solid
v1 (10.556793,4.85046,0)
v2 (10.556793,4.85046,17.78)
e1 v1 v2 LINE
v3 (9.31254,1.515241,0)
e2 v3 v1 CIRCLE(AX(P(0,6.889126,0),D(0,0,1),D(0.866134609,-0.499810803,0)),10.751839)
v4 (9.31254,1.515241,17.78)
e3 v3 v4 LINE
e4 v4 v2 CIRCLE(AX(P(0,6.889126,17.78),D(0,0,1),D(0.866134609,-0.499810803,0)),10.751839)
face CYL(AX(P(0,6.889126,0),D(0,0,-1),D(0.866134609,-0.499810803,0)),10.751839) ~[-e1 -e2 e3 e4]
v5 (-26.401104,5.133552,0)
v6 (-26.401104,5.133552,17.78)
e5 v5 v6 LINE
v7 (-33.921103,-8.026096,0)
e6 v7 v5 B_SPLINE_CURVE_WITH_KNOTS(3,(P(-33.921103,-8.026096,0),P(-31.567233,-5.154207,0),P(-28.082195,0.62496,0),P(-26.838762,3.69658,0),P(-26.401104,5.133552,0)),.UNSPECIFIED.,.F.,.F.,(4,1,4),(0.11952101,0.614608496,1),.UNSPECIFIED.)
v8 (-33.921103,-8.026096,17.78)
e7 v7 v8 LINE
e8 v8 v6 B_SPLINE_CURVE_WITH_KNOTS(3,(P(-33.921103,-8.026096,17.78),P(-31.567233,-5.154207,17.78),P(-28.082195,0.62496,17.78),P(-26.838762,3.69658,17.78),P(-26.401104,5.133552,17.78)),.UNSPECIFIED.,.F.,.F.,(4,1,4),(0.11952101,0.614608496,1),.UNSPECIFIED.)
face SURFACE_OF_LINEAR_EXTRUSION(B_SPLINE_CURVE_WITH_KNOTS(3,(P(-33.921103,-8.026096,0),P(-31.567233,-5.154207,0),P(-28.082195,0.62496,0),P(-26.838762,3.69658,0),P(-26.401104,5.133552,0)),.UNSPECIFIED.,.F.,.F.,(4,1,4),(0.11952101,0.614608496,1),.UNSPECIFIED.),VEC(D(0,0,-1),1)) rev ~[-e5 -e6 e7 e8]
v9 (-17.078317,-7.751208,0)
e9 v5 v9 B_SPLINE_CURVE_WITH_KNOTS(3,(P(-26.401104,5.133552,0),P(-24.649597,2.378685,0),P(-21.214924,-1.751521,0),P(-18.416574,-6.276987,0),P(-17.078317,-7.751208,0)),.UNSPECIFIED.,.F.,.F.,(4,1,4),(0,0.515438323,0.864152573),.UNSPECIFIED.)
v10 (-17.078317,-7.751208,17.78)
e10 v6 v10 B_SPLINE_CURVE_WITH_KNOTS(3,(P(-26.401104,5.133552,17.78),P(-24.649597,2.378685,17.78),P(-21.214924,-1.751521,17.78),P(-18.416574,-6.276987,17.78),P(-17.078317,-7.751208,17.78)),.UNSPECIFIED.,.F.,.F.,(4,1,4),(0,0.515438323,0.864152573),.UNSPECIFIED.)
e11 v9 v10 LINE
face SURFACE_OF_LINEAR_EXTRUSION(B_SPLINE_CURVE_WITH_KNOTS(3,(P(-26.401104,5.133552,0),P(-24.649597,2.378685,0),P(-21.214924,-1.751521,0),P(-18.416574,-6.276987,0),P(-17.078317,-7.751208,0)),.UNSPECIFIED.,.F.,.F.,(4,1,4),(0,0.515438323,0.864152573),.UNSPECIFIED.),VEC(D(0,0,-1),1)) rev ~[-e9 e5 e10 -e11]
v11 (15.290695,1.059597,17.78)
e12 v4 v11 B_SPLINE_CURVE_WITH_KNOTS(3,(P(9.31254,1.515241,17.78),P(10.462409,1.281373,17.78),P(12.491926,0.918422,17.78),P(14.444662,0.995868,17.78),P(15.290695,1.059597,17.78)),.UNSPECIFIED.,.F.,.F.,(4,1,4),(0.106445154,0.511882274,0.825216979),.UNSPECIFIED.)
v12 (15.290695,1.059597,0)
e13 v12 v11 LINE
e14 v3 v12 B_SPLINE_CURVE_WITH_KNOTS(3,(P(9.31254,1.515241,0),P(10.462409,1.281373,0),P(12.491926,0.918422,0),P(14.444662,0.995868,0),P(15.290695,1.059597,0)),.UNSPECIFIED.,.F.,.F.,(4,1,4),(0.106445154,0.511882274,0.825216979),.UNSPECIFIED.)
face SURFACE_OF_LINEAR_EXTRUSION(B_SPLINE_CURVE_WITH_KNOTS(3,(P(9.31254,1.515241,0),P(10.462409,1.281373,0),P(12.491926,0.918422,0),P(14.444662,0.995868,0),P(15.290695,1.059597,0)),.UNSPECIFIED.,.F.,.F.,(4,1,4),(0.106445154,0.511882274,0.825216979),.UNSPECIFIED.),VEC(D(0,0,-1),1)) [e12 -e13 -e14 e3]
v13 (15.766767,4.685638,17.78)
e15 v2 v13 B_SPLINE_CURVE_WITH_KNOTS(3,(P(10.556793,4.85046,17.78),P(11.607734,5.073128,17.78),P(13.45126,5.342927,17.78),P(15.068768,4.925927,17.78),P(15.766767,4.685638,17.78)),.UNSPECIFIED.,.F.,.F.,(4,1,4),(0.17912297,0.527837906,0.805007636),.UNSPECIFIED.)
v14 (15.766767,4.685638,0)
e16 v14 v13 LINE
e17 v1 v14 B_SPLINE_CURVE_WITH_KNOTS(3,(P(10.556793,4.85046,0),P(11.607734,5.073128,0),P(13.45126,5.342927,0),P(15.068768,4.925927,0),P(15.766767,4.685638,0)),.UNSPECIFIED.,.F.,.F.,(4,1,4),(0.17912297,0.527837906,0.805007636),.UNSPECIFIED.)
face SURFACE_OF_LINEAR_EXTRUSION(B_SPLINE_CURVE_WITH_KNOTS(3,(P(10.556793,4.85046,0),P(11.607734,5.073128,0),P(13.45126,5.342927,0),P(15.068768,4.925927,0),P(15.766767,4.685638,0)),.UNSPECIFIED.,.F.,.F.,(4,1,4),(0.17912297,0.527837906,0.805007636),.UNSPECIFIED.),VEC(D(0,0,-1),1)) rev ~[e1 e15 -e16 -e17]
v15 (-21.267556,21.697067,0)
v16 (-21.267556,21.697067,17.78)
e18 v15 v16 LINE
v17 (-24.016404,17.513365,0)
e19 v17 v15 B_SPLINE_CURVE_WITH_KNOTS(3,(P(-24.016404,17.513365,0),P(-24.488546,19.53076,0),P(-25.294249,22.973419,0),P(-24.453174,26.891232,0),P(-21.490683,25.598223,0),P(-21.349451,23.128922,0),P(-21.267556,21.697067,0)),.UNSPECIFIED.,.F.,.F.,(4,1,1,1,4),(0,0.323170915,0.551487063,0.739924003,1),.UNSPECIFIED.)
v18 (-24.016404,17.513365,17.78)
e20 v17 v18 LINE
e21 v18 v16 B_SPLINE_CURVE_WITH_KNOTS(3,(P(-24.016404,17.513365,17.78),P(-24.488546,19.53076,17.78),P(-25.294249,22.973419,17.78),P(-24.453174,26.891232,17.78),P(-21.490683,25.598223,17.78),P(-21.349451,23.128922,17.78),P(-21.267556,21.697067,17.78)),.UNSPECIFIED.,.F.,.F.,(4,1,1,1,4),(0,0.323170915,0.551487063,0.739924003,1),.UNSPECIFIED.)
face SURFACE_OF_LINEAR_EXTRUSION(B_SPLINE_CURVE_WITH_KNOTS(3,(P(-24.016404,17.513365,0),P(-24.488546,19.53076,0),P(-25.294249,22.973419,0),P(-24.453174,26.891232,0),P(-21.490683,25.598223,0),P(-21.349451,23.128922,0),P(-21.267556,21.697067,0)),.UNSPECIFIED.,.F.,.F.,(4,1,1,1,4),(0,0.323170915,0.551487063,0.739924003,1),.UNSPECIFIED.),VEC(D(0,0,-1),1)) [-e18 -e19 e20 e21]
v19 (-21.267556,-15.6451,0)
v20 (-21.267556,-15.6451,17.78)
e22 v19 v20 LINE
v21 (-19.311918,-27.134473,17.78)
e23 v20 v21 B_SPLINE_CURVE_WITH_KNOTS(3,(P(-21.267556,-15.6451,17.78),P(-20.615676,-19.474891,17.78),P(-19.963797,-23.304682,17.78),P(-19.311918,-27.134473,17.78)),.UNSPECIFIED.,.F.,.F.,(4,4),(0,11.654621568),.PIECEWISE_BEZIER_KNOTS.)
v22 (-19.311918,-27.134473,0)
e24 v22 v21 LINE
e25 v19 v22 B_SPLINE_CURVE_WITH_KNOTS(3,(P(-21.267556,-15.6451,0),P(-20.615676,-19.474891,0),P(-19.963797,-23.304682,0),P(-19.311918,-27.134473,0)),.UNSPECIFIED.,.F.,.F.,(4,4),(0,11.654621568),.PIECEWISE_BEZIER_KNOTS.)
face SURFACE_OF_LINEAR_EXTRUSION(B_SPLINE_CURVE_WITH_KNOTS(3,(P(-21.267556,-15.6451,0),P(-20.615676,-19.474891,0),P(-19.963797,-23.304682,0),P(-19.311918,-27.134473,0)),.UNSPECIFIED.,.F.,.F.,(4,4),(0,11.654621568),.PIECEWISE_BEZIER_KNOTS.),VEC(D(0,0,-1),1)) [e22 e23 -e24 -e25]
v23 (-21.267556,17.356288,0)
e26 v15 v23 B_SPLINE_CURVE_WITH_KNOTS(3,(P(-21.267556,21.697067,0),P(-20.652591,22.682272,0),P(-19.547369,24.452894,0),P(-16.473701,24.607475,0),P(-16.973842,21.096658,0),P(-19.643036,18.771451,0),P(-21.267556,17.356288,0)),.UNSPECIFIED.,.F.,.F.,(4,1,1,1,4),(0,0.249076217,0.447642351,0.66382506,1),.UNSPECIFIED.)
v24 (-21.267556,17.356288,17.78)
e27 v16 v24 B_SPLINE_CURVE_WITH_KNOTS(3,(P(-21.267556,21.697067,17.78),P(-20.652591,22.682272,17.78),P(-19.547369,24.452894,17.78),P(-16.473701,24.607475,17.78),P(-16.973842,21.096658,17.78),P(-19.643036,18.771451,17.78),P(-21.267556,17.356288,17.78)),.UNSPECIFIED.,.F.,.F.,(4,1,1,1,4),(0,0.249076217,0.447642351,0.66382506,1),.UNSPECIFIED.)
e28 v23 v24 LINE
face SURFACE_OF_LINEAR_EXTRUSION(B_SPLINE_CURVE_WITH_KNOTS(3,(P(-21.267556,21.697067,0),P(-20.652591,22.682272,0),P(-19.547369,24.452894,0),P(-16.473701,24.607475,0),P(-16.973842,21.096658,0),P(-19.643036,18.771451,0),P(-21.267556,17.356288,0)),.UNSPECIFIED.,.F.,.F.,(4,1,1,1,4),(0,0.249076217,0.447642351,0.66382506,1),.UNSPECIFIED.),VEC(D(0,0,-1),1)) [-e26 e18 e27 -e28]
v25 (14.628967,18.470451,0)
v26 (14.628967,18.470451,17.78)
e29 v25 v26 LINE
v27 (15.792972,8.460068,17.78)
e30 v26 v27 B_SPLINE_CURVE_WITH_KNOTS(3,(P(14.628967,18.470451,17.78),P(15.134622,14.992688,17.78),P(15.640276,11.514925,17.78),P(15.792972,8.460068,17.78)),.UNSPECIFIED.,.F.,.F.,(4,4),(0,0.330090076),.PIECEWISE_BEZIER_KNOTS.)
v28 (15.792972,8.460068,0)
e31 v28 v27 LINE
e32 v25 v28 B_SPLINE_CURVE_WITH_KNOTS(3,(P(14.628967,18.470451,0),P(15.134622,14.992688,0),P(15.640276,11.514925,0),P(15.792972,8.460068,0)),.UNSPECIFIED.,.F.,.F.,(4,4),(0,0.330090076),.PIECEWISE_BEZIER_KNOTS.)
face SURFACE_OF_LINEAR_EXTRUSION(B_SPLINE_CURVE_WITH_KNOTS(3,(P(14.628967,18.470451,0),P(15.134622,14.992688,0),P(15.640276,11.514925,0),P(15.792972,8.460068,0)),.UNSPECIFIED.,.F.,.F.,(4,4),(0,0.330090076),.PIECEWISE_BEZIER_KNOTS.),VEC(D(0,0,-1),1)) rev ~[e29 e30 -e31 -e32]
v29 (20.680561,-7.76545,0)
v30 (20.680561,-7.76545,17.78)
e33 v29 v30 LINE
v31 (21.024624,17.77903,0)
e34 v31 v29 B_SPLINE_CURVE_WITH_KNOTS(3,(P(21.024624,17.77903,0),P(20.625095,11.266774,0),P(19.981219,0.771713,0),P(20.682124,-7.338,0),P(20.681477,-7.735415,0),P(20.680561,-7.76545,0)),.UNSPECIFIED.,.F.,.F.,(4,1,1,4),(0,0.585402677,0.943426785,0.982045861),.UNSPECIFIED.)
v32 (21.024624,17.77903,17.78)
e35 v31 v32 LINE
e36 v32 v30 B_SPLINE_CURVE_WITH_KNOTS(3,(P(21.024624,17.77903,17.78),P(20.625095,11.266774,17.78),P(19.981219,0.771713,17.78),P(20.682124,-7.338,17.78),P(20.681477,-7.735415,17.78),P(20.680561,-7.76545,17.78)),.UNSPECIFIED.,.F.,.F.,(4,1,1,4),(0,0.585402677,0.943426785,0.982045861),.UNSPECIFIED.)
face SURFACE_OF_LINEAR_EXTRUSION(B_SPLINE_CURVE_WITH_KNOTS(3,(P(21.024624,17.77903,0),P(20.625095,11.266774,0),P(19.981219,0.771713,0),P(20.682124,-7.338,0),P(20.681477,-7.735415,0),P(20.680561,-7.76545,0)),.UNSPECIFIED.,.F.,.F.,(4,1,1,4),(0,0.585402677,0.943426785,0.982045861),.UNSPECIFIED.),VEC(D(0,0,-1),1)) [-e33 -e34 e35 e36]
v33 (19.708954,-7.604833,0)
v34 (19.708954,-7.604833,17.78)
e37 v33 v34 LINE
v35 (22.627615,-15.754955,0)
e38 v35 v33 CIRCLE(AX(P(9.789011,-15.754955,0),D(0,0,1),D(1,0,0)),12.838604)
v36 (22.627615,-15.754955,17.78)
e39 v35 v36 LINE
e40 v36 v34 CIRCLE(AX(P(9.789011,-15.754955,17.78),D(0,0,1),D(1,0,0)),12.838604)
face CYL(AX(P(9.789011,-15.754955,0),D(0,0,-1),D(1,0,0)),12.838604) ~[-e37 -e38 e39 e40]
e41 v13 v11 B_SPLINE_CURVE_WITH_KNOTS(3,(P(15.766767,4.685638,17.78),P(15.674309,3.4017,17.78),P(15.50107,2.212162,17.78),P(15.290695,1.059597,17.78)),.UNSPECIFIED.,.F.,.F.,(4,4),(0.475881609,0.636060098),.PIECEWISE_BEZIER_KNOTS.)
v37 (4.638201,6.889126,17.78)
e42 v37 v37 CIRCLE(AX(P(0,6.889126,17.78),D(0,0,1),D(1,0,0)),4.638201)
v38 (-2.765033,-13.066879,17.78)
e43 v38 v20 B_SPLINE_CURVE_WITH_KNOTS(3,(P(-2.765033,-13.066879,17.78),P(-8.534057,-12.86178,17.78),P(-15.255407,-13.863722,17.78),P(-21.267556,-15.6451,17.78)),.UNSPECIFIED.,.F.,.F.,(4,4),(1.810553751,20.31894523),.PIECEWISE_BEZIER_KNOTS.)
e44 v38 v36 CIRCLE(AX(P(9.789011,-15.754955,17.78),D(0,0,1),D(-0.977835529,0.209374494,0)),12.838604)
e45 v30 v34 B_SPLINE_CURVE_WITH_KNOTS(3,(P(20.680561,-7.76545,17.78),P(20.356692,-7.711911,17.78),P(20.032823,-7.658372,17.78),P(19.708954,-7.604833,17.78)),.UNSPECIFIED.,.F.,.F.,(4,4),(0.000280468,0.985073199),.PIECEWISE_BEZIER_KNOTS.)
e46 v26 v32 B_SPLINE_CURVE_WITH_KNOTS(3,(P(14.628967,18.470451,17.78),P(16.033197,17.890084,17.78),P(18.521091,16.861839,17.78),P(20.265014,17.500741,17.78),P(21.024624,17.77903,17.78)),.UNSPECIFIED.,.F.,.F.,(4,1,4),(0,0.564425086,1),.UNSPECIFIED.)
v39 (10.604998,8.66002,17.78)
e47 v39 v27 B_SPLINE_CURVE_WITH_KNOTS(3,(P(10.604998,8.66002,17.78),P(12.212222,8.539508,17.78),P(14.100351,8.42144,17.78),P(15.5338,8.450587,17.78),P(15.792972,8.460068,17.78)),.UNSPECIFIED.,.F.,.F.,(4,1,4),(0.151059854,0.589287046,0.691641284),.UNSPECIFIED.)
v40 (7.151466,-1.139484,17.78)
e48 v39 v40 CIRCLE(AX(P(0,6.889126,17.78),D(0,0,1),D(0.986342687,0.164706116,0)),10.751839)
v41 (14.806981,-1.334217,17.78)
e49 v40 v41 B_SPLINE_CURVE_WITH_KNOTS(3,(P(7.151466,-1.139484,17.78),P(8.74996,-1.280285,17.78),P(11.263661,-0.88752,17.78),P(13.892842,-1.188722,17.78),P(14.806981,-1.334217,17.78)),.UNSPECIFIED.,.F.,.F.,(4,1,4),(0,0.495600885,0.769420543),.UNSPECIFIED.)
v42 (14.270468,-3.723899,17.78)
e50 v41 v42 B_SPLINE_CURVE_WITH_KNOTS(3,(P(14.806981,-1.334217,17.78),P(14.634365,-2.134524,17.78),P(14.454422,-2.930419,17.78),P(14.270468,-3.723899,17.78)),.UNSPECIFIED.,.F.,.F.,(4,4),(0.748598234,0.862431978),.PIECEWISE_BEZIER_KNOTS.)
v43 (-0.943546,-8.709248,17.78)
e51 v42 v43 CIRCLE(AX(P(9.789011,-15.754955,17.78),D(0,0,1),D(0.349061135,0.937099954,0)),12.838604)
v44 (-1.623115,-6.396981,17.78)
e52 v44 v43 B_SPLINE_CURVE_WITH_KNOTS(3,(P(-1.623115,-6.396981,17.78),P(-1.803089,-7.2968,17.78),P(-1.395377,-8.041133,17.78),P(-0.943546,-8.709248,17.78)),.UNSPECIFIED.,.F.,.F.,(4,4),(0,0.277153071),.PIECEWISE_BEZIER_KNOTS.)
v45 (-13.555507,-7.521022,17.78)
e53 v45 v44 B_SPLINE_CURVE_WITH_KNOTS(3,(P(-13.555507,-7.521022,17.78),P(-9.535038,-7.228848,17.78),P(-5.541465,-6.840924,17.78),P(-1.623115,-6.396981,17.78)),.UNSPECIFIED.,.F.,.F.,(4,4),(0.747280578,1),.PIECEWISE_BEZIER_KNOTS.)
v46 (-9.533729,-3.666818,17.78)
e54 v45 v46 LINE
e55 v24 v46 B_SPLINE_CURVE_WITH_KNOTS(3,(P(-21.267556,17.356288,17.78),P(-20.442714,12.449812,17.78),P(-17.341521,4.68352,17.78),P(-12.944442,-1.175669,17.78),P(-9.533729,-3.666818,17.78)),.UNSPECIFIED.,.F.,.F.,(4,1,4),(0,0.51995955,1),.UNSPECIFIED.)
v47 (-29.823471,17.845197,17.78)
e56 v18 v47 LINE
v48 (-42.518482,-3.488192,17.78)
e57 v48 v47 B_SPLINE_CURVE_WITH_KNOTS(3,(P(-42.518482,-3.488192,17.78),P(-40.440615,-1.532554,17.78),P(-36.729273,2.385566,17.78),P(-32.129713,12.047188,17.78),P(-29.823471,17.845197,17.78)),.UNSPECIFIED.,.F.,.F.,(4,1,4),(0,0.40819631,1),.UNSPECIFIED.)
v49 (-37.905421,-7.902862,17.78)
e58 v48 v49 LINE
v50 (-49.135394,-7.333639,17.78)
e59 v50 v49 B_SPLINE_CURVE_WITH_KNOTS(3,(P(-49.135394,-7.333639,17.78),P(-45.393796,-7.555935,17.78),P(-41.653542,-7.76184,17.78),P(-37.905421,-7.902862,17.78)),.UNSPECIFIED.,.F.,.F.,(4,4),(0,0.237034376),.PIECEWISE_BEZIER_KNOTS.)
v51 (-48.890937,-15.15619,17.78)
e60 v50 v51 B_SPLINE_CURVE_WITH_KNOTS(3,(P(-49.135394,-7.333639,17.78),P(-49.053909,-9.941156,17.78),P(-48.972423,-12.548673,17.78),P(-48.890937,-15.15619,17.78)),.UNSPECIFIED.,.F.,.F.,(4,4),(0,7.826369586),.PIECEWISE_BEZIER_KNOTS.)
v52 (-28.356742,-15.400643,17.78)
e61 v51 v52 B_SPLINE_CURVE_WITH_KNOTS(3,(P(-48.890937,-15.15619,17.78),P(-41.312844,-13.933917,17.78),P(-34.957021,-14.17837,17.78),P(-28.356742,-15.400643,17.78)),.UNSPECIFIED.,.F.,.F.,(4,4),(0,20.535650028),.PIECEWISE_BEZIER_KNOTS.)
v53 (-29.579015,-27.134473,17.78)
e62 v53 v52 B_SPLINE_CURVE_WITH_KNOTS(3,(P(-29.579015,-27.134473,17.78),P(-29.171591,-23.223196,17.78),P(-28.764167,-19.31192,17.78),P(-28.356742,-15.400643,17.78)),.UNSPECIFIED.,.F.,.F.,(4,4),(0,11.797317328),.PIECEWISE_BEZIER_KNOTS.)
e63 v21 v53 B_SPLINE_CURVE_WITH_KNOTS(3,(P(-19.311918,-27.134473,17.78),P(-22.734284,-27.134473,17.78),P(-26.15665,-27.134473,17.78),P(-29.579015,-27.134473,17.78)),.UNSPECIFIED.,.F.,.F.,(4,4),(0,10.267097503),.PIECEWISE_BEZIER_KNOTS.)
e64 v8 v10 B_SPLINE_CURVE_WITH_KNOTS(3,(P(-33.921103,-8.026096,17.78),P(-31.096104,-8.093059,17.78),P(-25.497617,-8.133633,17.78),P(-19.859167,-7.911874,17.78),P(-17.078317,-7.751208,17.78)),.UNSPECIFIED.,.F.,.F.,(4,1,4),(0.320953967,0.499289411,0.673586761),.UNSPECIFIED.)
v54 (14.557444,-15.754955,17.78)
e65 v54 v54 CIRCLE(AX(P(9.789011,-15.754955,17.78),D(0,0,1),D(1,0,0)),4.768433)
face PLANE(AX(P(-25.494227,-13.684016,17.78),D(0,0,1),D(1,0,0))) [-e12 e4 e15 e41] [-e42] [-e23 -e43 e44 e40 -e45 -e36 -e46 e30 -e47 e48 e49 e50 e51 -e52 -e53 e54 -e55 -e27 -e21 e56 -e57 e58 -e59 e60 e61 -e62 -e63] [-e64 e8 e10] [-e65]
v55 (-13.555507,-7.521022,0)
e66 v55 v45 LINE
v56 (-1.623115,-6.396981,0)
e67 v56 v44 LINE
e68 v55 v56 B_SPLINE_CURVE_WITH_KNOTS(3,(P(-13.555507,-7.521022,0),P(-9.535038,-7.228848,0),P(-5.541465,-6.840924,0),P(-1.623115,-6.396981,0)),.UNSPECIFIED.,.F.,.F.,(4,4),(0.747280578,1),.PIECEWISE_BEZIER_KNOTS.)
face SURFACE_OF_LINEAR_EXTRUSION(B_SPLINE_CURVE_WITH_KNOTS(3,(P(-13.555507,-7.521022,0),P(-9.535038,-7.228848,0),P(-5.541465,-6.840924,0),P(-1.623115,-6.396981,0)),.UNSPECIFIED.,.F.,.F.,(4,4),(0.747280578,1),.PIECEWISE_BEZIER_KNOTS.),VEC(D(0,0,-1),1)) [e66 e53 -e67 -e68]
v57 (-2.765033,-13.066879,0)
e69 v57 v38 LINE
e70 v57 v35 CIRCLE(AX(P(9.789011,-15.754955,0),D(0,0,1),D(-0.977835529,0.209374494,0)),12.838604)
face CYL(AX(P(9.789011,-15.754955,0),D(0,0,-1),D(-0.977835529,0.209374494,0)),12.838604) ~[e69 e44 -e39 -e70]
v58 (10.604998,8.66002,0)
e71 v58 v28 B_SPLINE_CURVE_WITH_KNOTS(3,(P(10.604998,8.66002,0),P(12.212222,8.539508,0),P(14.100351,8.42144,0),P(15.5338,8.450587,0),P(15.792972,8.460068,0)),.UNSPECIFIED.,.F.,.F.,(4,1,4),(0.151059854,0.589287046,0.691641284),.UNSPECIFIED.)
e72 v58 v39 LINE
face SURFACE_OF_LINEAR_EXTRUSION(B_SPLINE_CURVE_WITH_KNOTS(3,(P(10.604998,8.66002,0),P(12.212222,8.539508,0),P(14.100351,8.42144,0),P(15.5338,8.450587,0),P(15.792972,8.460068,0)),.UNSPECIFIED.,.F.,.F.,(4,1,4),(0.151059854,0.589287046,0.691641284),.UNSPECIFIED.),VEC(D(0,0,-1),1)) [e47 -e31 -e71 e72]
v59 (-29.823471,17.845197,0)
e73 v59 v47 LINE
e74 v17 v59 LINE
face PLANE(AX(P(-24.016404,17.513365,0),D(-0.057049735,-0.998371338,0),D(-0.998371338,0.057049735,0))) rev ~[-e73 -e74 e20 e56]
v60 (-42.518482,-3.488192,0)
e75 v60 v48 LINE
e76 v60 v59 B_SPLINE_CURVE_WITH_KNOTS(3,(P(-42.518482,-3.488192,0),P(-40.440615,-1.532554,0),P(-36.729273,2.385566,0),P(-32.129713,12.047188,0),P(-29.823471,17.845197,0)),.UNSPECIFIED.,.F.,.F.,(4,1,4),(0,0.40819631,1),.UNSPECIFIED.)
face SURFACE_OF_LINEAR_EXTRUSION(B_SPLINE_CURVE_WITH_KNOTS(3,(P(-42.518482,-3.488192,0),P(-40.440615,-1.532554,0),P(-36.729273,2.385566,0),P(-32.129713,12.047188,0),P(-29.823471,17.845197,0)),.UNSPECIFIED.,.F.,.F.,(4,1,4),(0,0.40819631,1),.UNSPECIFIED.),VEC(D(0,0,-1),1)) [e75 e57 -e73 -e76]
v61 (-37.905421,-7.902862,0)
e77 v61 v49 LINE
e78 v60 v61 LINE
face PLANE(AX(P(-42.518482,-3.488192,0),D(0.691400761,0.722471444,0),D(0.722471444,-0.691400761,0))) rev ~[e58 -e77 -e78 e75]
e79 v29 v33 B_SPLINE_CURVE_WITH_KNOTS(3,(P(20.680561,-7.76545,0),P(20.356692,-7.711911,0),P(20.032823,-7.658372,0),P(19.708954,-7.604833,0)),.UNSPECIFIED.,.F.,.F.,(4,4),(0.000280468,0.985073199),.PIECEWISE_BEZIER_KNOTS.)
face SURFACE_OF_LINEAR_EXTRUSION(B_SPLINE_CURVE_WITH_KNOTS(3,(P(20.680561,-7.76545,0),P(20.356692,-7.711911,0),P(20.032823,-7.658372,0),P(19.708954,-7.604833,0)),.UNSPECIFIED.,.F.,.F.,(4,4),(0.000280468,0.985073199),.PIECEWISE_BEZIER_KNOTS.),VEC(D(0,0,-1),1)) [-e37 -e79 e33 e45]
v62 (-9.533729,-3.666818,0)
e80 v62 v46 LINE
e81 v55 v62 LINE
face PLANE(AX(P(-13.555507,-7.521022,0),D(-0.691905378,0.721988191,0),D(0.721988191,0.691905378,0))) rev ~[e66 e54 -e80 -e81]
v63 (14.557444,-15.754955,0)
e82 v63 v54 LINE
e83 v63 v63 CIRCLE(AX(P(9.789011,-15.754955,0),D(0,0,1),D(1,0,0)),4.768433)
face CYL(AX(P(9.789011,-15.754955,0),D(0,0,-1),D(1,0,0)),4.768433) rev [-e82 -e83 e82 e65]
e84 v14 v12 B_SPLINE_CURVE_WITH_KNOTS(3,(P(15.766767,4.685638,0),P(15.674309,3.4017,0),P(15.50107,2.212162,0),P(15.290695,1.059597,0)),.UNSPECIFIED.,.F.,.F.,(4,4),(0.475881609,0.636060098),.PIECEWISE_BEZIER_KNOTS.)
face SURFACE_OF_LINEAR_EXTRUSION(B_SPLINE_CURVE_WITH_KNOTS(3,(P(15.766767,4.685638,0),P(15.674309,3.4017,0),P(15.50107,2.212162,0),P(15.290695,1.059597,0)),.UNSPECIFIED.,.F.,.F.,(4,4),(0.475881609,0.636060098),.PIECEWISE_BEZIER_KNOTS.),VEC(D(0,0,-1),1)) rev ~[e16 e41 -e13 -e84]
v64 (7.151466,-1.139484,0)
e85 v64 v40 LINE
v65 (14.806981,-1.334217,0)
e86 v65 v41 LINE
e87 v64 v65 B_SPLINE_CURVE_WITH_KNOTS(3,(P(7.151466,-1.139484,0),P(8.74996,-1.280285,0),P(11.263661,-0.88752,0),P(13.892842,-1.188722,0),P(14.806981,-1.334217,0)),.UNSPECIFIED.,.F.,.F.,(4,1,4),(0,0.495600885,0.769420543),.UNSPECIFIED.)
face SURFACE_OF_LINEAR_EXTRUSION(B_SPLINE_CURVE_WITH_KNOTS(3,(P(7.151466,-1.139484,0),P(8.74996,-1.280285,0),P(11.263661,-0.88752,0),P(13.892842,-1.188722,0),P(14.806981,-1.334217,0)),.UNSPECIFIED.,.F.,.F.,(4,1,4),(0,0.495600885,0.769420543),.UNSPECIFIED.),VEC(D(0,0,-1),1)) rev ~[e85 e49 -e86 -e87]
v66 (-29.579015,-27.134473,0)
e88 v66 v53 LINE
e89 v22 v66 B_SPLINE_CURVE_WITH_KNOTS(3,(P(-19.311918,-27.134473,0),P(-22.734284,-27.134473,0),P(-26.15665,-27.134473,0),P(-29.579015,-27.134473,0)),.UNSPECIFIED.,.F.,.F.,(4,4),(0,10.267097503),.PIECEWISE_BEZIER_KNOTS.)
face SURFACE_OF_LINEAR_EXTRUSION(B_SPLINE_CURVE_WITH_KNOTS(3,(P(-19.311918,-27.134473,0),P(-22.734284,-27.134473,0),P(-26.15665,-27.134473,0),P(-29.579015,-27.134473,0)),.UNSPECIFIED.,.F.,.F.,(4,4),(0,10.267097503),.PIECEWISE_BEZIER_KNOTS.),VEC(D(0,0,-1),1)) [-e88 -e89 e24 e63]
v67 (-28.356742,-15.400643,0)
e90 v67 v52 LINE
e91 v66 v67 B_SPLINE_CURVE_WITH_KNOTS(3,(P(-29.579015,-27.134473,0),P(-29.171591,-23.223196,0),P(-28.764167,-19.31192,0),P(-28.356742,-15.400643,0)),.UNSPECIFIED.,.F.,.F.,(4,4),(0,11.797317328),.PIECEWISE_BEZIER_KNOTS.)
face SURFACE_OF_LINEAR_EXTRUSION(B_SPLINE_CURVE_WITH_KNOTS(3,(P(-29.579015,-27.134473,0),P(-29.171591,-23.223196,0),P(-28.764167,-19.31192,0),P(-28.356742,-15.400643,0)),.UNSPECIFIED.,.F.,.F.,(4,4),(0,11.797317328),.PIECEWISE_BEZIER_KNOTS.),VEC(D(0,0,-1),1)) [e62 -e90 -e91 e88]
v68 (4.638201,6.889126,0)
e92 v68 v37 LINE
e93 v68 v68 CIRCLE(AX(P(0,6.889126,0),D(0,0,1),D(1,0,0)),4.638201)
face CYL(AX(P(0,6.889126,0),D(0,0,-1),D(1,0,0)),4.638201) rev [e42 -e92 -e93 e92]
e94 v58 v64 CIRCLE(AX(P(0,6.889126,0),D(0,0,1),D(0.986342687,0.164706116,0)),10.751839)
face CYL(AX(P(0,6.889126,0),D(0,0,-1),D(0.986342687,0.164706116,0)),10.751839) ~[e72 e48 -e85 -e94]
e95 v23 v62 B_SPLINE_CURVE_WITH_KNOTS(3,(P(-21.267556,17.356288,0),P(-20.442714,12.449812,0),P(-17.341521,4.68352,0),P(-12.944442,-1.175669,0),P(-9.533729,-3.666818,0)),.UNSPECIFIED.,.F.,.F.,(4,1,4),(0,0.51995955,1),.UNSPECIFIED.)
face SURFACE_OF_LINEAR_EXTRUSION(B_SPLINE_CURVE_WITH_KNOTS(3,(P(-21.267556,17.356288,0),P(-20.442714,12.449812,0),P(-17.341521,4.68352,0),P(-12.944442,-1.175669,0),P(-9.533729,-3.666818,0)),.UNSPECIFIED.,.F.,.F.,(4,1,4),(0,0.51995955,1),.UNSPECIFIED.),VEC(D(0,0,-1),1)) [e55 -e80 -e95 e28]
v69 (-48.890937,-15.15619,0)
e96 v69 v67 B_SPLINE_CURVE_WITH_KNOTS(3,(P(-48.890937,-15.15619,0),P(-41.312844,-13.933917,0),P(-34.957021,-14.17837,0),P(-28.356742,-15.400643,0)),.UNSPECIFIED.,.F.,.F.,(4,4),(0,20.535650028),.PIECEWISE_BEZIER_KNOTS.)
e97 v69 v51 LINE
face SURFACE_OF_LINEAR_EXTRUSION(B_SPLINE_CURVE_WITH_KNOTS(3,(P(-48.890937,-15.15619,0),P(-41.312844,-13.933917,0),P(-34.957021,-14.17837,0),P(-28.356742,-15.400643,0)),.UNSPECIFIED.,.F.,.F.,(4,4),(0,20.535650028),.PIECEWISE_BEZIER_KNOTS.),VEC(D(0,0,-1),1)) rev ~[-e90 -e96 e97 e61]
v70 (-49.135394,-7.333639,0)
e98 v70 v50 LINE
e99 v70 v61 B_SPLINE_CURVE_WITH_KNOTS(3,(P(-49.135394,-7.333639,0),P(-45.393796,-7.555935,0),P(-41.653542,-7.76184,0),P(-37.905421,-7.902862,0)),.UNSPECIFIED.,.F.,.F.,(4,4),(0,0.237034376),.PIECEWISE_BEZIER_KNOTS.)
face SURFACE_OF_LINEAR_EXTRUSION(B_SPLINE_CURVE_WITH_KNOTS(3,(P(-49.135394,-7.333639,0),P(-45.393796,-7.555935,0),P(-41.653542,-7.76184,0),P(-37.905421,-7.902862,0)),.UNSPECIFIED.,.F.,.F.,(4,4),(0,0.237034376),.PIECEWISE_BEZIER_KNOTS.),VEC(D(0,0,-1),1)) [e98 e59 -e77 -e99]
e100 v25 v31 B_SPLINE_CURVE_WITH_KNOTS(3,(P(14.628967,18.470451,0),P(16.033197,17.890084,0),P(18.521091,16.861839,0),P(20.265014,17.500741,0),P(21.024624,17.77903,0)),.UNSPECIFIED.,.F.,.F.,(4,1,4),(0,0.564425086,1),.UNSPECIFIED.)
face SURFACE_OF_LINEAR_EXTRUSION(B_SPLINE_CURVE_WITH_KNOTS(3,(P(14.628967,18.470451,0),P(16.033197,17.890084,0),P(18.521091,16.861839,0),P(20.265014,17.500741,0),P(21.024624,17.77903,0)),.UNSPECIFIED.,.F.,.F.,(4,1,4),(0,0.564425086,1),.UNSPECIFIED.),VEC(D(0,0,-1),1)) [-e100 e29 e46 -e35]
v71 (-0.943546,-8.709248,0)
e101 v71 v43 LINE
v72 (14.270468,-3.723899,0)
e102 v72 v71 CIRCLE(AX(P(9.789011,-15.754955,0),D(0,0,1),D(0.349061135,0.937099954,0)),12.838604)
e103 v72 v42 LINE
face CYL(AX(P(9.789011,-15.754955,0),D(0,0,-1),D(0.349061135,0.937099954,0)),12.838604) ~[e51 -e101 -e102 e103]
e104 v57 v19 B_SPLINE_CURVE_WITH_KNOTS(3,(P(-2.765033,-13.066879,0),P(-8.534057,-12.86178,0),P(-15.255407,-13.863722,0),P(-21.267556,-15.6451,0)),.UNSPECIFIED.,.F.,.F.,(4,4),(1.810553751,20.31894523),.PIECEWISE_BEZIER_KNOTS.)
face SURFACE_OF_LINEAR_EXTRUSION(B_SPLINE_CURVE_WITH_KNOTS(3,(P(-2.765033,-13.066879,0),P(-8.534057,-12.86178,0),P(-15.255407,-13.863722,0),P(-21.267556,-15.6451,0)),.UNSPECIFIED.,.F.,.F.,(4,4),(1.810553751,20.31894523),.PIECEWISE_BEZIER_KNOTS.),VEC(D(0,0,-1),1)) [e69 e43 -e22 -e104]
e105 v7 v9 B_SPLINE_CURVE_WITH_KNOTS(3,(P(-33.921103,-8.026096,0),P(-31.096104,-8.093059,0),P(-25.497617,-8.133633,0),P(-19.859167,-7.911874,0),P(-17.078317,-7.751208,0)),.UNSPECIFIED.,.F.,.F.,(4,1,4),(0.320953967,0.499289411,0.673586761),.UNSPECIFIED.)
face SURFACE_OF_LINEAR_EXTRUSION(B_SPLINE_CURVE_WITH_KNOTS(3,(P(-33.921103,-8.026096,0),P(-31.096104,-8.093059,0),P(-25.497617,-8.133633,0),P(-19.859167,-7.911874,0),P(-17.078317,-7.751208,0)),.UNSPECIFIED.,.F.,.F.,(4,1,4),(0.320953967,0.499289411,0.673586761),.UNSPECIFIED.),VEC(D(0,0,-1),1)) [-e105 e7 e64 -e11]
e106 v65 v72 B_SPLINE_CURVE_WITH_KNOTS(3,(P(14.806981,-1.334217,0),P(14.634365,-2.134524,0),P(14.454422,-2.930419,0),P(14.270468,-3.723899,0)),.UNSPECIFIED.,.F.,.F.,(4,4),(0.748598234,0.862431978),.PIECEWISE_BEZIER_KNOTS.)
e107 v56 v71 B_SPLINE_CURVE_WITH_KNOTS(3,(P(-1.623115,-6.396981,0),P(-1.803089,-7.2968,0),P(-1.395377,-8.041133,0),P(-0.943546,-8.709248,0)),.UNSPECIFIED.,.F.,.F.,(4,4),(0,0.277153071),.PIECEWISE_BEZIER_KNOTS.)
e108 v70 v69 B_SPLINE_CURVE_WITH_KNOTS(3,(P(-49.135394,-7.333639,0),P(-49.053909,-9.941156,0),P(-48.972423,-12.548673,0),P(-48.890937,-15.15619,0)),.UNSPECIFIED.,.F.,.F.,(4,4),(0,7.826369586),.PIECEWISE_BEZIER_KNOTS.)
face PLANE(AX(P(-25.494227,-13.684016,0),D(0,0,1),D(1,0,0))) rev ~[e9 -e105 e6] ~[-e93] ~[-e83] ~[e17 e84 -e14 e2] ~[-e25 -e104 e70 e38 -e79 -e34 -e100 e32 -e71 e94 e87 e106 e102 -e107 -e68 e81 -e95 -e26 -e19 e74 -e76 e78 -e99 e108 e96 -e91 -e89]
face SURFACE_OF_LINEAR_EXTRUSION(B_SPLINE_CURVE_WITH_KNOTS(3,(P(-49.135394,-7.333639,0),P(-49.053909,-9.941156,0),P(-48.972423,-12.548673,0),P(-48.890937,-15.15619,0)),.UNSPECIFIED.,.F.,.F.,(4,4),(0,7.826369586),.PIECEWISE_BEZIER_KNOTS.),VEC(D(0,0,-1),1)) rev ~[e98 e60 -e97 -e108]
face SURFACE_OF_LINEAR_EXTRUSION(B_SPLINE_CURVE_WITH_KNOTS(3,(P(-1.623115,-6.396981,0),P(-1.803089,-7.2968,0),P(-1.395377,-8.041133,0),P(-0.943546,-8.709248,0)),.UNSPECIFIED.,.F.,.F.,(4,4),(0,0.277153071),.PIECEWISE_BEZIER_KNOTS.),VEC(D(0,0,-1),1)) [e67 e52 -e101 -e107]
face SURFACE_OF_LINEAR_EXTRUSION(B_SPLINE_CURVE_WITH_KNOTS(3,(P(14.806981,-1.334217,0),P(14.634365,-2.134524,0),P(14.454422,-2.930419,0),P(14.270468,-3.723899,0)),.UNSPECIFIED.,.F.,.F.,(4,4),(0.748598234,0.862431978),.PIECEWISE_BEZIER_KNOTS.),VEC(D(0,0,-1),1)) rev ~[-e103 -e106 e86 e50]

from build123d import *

# Parameters (mm, degrees)
F0_R     = 4.638201324
F0_R_2   = 4.768433274
F1_DEPTH = 17.78


with BuildPart() as f1:
    # F0 (on Top) → F1 (new body)
    with BuildSketch(Plane.XY):
        with BuildLine():
            Line((-35.690382123, -10.0226411596), (-37.9054210512, -7.9028624289))
            add(Edge.make_bspline(
                [(-49.1353943944, -7.3336390778), (-45.393796035, -7.5559354852), (-41.6535417498, -7.7618397531), (-37.9054210512, -7.9028624289)],
                knots=[0, 0, 0, 0, 0.2370343759, 0.2370343759, 0.2370343759, 0.2370343759], degree=3))
            add(Edge.make_bspline(
                [(-49.1353943944, -7.3336390778), (-49.0539086362, -9.9411560223), (-48.9724228779, -12.5486729667), (-48.8909371197, -15.1561899111)],
                knots=[0, 0, 0, 0, 7.8263695861, 7.8263695861, 7.8263695861, 7.8263695861], degree=3))
            add(Edge.make_bspline(
                [(-48.8909371197, -15.1561899111), (-41.3128435612, -13.9339165762), (-34.9570214748, -14.1783701256), (-28.3567421138, -15.4006434605)],
                knots=[0, 0, 0, 0, 20.5356500281, 20.5356500281, 20.5356500281, 20.5356500281], degree=3))
            add(Edge.make_bspline(
                [(-29.5790154487, -27.1344725043), (-29.1715910037, -23.2231961563), (-28.7641665588, -19.3119198084), (-28.3567421138, -15.4006434605)],
                knots=[0, 0, 0, 0, 11.7973173279, 11.7973173279, 11.7973173279, 11.7973173279], degree=3))
            add(Edge.make_bspline(
                [(-19.3119179457, -27.1344725043), (-22.7342837801, -27.1344725043), (-26.1566496144, -27.1344725043), (-29.5790154487, -27.1344725043)],
                knots=[0, 0, 0, 0, 10.2670975029, 10.2670975029, 10.2670975029, 10.2670975029], degree=3))
            add(Edge.make_bspline(
                [(-21.267555654, -15.6450998038), (-20.6156764179, -19.474890704), (-19.9637971818, -23.3046816041), (-19.3119179457, -27.1344725043)],
                knots=[0, 0, 0, 0, 11.6546215681, 11.6546215681, 11.6546215681, 11.6546215681], degree=3))
            add(Edge.make_bspline(
                [(-2.7650330181, -13.0668785919), (-8.5340574192, -12.8617801096), (-15.2554069707, -13.8637216306), (-21.267555654, -15.6450998038)],
                knots=[1.8105537506, 1.8105537506, 1.8105537506, 1.8105537506, 20.3189452298, 20.3189452298, 20.3189452298, 20.3189452298], degree=3))
            ThreePointArc((-2.7650330181, -13.0668785919), (-2.0563968643, -10.8035826328), (-0.9435463791, -8.7092479903))
            add(Edge.make_bspline(
                [(-1.6231150366, -6.3969809562), (-1.8030889288, -7.2967995468), (-1.3953773544, -8.0411328403), (-0.9435463791, -8.7092479903)],
                knots=[0, 0, 0, 0, 0.2771530707, 0.2771530707, 0.2771530707, 0.2771530707], degree=3))
            add(Edge.make_bspline(
                [(-13.5555072823, -7.5210221014), (-9.5350379246, -7.2288478921), (-5.5414650595, -6.8409241797), (-1.6231150366, -6.3969809562)],
                knots=[0.7472805778, 0.7472805778, 0.7472805778, 0.7472805778, 1, 1, 1, 1], degree=3))
            Line((-13.5555072823, -7.5210221014), (-15.4006425291, -9.2892767861))
            add(Edge.make_bspline(
                [(-17.0783166, -7.7512084016), (-16.5569761885, -8.325515744), (-16.003912907, -8.846409664), (-15.4006425291, -9.2892767861)],
                knots=[0.8641525735, 0.8641525735, 0.8641525735, 0.8641525735, 1, 1, 1, 1], degree=3))
            add(Edge.make_bspline(
                [(-33.9211031494, -8.0260959373), (-31.0961036625, -8.0930586948), (-25.4976173365, -8.1336326117), (-19.8591672797, -7.9118738805), (-17.0783166, -7.7512084016)],
                knots=[0.320953967, 0.320953967, 0.320953967, 0.320953967, 0.499289411, 0.6735867607, 0.6735867607, 0.6735867607, 0.6735867607], degree=3))
            add(Edge.make_bspline(
                [(-35.690382123, -10.0226411596), (-35.0805947329, -9.3907110584), (-34.4893601895, -8.7194097618), (-33.9211031657, -8.0260959105)],
                knots=[0, 0, 0, 0, 0.1195210098, 0.1195210098, 0.1195210098, 0.1195210098], degree=3))
        make_face()
        with BuildLine():
            Line((-15.4006425291, -9.2892767861), (-13.5555072823, -7.5210221014))
            add(Edge.make_bspline(
                [(-17.0783166, -7.7512084016), (-15.9025586107, -7.6832782096), (-14.7278894087, -7.6062210645), (-13.5555072823, -7.5210221014)],
                knots=[0.6735867607, 0.6735867607, 0.6735867607, 0.6735867607, 0.7472805778, 0.7472805778, 0.7472805778, 0.7472805778], degree=3))
            add(Edge.make_bspline(
                [(-17.0783166, -7.7512084016), (-16.5569761885, -8.325515744), (-16.003912907, -8.846409664), (-15.4006425291, -9.2892767861)],
                knots=[0.8641525735, 0.8641525735, 0.8641525735, 0.8641525735, 1, 1, 1, 1], degree=3))
        make_face()
        with BuildLine():
            add(Edge.make_bspline(
                [(-37.9054210512, -7.9028624289), (-36.5784373368, -7.9527900617), (-35.2504676135, -7.9945851669), (-33.9211031494, -8.0260959373)],
                knots=[0.2370343759, 0.2370343759, 0.2370343759, 0.2370343759, 0.320953967, 0.320953967, 0.320953967, 0.320953967], degree=3))
            Line((-37.9054210512, -7.9028624289), (-35.690382123, -10.0226411596))
            add(Edge.make_bspline(
                [(-35.690382123, -10.0226411596), (-35.0805947329, -9.3907110584), (-34.4893601895, -8.7194097618), (-33.9211031657, -8.0260959105)],
                knots=[0, 0, 0, 0, 0.1195210098, 0.1195210098, 0.1195210098, 0.1195210098], degree=3))
        make_face()
        with BuildLine():
            Line((-24.0164042954, 17.5133645994), (-29.8234708607, 17.8451966494))
            add(Edge.make_bspline(
                [(-42.5184816122, -3.4881916363), (-40.4406152666, -1.5325543936), (-36.729273016, 2.3855655582), (-32.1297128798, 12.0471876965), (-29.8234708607, 17.8451966494)],
                knots=[0, 0, 0, 0, 0.4081963101, 1, 1, 1, 1], degree=3))
            Line((-42.5184816122, -3.4881916363), (-37.9054210512, -7.9028624289))
            add(Edge.make_bspline(
                [(-37.9054210512, -7.9028624289), (-36.5784373368, -7.9527900617), (-35.2504676135, -7.9945851669), (-33.9211031494, -8.0260959373)],
                knots=[0.2370343759, 0.2370343759, 0.2370343759, 0.2370343759, 0.320953967, 0.320953967, 0.320953967, 0.320953967], degree=3))
            add(Edge.make_bspline(
                [(-33.9211031657, -8.0260959105), (-31.5672329793, -5.1542074231), (-28.082194505, 0.6249600809), (-26.8387619268, 3.6965800844), (-26.4011044055, 5.1335520111)],
                knots=[0.1195210098, 0.1195210098, 0.1195210098, 0.1195210098, 0.6146084964, 1, 1, 1, 1], degree=3))
            add(Edge.make_bspline(
                [(-26.4011044055, 5.1335520111), (-24.6495971424, 2.3786851346), (-21.2149243812, -1.7515205069), (-18.4165740511, -6.2769872146), (-17.0783166, -7.7512084016)],
                knots=[0, 0, 0, 0, 0.5154383232, 0.8641525735, 0.8641525735, 0.8641525735, 0.8641525735], degree=3))
            add(Edge.make_bspline(
                [(-17.0783166, -7.7512084016), (-15.9025586107, -7.6832782096), (-14.7278894087, -7.6062210645), (-13.5555072823, -7.5210221014)],
                knots=[0.6735867607, 0.6735867607, 0.6735867607, 0.6735867607, 0.7472805778, 0.7472805778, 0.7472805778, 0.7472805778], degree=3))
            Line((-13.5555072823, -7.5210221014), (-9.5337294042, -3.6668181419))
            add(Edge.make_bspline(
                [(-21.267555654, 17.356287688), (-20.4427144862, 12.4498118331), (-17.3415208773, 4.6835203337), (-12.9444424563, -1.1756693571), (-9.5337294042, -3.6668181419)],
                knots=[0, 0, 0, 0, 0.5199595505, 1, 1, 1, 1], degree=3))
            Line((-21.267555654, 17.356287688), (-24.0164042954, 17.5133645994))
        make_face()
        with BuildLine():
            ThreePointArc((10.604998152, 8.6600199708), (-10.1405410565, 10.4628466512), (7.1514655816, -1.1394844732))
            ThreePointArc((7.1514655816, -1.1394844732), (8.3383309599, 0.1013219698), (9.3125402076, 1.5152407782))
            ThreePointArc((9.3125402076, 1.5152407782), (10.0736550874, 3.1309986037), (10.5567934998, 4.8504597068))
            ThreePointArc((10.5567934998, 4.8504597068), (10.7029668443, 5.8651384426), (10.7518393927, 6.8891262636))
            ThreePointArc((10.7518393927, 6.8891262636), (10.7150661971, 7.7776118955), (10.604998152, 8.6600199708))
        make_face()
        with Locations((0, 6.8891262636)):
            Circle(F0_R, mode=Mode.SUBTRACT)
        with BuildLine():
            add(Edge.make_bspline(
                [(10.604998152, 8.6600199708), (12.2122220903, 8.5395076784), (14.1003505816, 8.4214401451), (15.5337995939, 8.4505866978), (15.7929722283, 8.4600677202)],
                knots=[0.1510598542, 0.1510598542, 0.1510598542, 0.1510598542, 0.5892870456, 0.6916412836, 0.6916412836, 0.6916412836, 0.6916412836], degree=3))
            ThreePointArc((10.604998152, 8.6600199708), (10.7150661971, 7.7776118955), (10.7518393927, 6.8891262636))
            ThreePointArc((10.7518393927, 6.8891262636), (10.7029668443, 5.8651384426), (10.5567934998, 4.8504597068))
            add(Edge.make_bspline(
                [(10.5567934998, 4.8504597068), (11.6077335714, 5.0731284108), (13.4512603245, 5.3429270555), (15.0687675601, 4.9259274744), (15.7667668859, 4.6856378648)],
                knots=[0.1791229698, 0.1791229698, 0.1791229698, 0.1791229698, 0.5278379059, 0.8050076356, 0.8050076356, 0.8050076356, 0.8050076356], degree=3))
            add(Edge.make_bspline(
                [(15.7929722281, 8.4600677202), (15.8259646398, 7.8000186591), (15.8597235494, 6.4911320302), (15.8097527542, 5.2825685096), (15.766766877, 4.6856378506)],
                knots=[0.3300900765, 0.3300900765, 0.3300900765, 0.3300900765, 0.4014111421, 0.475881609, 0.475881609, 0.475881609, 0.475881609], degree=3))
        make_face()
        with BuildLine():
            add(Edge.make_bspline(
                [(-0.9435463791, -8.7092479903), (-0.4831654467, -9.3900058236), (0.812507327, -10.9299793578), (-1.3591535196, -12.500896209), (-1.1008912697, -13.1621211767)],
                knots=[0.2771530707, 0.2771530707, 0.2771530707, 0.2771530707, 0.5595506841, 1, 1, 1, 1], degree=3))
            ThreePointArc((-0.9435463791, -8.7092479903), (-2.0563968643, -10.8035826328), (-2.7650330181, -13.0668785919))
            add(Edge.make_bspline(
                [(-1.1008912697, -13.1621211767), (-1.6454550718, -13.1185561223), (-2.2006874466, -13.0869420224), (-2.7650330181, -13.0668785919)],
                knots=[0, 0, 0, 0, 1.8105537506, 1.8105537506, 1.8105537506, 1.8105537506], degree=3))
        make_face()
        with BuildLine():
            ThreePointArc((14.2704683408, -3.7238992918), (5.7912004506, -3.554656622), (-0.9435463791, -8.7092479903))
            add(Edge.make_bspline(
                [(-0.9435463791, -8.7092479903), (-0.4831654467, -9.3900058236), (0.812507327, -10.9299793578), (-1.3591535196, -12.500896209), (-1.1008912697, -13.1621211767)],
                knots=[0.2771530707, 0.2771530707, 0.2771530707, 0.2771530707, 0.5595506841, 1, 1, 1, 1], degree=3))
            add(Edge.make_bspline(
                [(-1.1008912697, -13.1621211767), (-1.6454550718, -13.1185561223), (-2.2006874466, -13.0869420224), (-2.7650330181, -13.0668785919)],
                knots=[0, 0, 0, 0, 1.8105537506, 1.8105537506, 1.8105537506, 1.8105537506], degree=3))
            ThreePointArc((-2.7650330181, -13.0668785919), (8.4374624091, -28.5222208777), (22.6276149154, -15.7549548894))
            ThreePointArc((22.6276149154, -15.7549548894), (21.8759455138, -11.4264718648), (19.7089541791, -7.6048333761))
            add(Edge.make_bspline(
                [(19.7089541791, -7.6048333761), (17.6699139236, -7.2677585051), (15.6308736681, -6.9306836341), (13.5918334126, -6.5936087631)],
                knots=[0.9850731992, 0.9850731992, 0.9850731992, 0.9850731992, 7.1852136564, 7.1852136564, 7.1852136564, 7.1852136564], degree=3))
            add(Edge.make_bspline(
                [(14.2704683408, -3.7238992918), (14.0481607533, -4.6828199189), (13.819997083, -5.638214341), (13.5918334126, -6.5936087631)],
                knots=[0.862431978, 0.862431978, 0.862431978, 0.862431978, 1, 1, 1, 1], degree=3))
        make_face()
        with Locations((9.7890105098, -15.7549548894)):
            Circle(F0_R_2, mode=Mode.SUBTRACT)
        with BuildLine():
            ThreePointArc((19.7089541791, -7.6048333761), (17.2465907899, -5.3043922515), (14.2704683408, -3.7238992918))
            add(Edge.make_bspline(
                [(14.2704683408, -3.7238992918), (14.0481607533, -4.6828199189), (13.819997083, -5.638214341), (13.5918334126, -6.5936087631)],
                knots=[0.862431978, 0.862431978, 0.862431978, 0.862431978, 1, 1, 1, 1], degree=3))
            add(Edge.make_bspline(
                [(19.7089541791, -7.6048333761), (17.6699139236, -7.2677585051), (15.6308736681, -6.9306836341), (13.5918334126, -6.5936087631)],
                knots=[0.9850731992, 0.9850731992, 0.9850731992, 0.9850731992, 7.1852136564, 7.1852136564, 7.1852136564, 7.1852136564], degree=3))
        make_face()
        with BuildLine():
            add(Edge.make_bspline(
                [(14.8069814342, -1.3342170053), (14.6343654147, -2.1345241136), (14.4544217387, -2.9304189177), (14.2704683408, -3.7238992918)],
                knots=[0.7485982336, 0.7485982336, 0.7485982336, 0.7485982336, 0.862431978, 0.862431978, 0.862431978, 0.862431978], degree=3))
            ThreePointArc((14.2704683408, -3.7238992918), (17.2465907899, -5.3043922515), (19.7089541791, -7.6048333761))
            add(Edge.make_bspline(
                [(20.6805605656, -7.7654501645), (20.3566917701, -7.7119112351), (20.0328229746, -7.6583723056), (19.7089541791, -7.6048333761)],
                knots=[0.0002804682, 0.0002804682, 0.0002804682, 0.0002804682, 0.9850731992, 0.9850731992, 0.9850731992, 0.9850731992], degree=3))
            add(Edge.make_bspline(
                [(21.0246238858, 17.7790299058), (20.6250946927, 11.2667740848), (19.9812190211, 0.7717134879), (20.6821235466, -7.3379998329), (20.6814771583, -7.7354147295), (20.6805605822, -7.7654501629)],
                knots=[0, 0, 0, 0, 0.5854026775, 0.9434267853, 0.982045861, 0.982045861, 0.982045861, 0.982045861], degree=3))
            add(Edge.make_bspline(
                [(14.6289672703, 18.4704512358), (16.0331969379, 17.8900841317), (18.5210907303, 16.8618394301), (20.265014458, 17.5007405886), (21.0246238858, 17.7790299058)],
                knots=[0, 0, 0, 0, 0.5644250859, 1, 1, 1, 1], degree=3))
            add(Edge.make_bspline(
                [(14.6289672703, 18.4704512358), (15.134621565, 14.9926878976), (15.6402758597, 11.5149245593), (15.7929722281, 8.4600677202)],
                knots=[0, 0, 0, 0, 0.3300900765, 0.3300900765, 0.3300900765, 0.3300900765], degree=3))
            add(Edge.make_bspline(
                [(15.7929722281, 8.4600677202), (15.8259646398, 7.8000186591), (15.8597235494, 6.4911320302), (15.8097527542, 5.2825685096), (15.766766877, 4.6856378506)],
                knots=[0.3300900765, 0.3300900765, 0.3300900765, 0.3300900765, 0.4014111421, 0.475881609, 0.475881609, 0.475881609, 0.475881609], degree=3))
            add(Edge.make_bspline(
                [(15.766766877, 4.6856378506), (15.6743085756, 3.4017000011), (15.5010704409, 2.2121624994), (15.2906951215, 1.0595967053)],
                knots=[0.475881609, 0.475881609, 0.475881609, 0.475881609, 0.6360600981, 0.6360600981, 0.6360600981, 0.6360600981], degree=3))
            add(Edge.make_bspline(
                [(15.2906951215, 1.0595967053), (15.1920245831, 0.5190186192), (15.0319815527, -0.2785674737), (14.8637109723, -1.0711993969), (14.8069814342, -1.3342170053)],
                knots=[0.6360600981, 0.6360600981, 0.6360600981, 0.6360600981, 0.7111872462, 0.7485982336, 0.7485982336, 0.7485982336, 0.7485982336], degree=3))
        make_face()
        with BuildLine():
            add(Edge.make_bspline(
                [(7.1514655816, -1.1394844732), (8.7499595944, -1.2802845456), (11.2636613372, -0.8875201197), (13.8928422624, -1.1887215989), (14.8069814342, -1.3342170053)],
                knots=[0, 0, 0, 0, 0.4956008854, 0.7694205432, 0.7694205432, 0.7694205432, 0.7694205432], degree=3))
            add(Edge.make_bspline(
                [(15.2906951215, 1.0595967053), (15.1920245831, 0.5190186192), (15.0319815527, -0.2785674737), (14.8637109723, -1.0711993969), (14.8069814342, -1.3342170053)],
                knots=[0.6360600981, 0.6360600981, 0.6360600981, 0.6360600981, 0.7111872462, 0.7485982336, 0.7485982336, 0.7485982336, 0.7485982336], degree=3))
            add(Edge.make_bspline(
                [(9.3125402076, 1.5152407782), (10.4624087708, 1.281373109), (12.4919261066, 0.9184224008), (14.4446622318, 0.995868069), (15.2906951195, 1.0595967062)],
                knots=[0.106445154, 0.106445154, 0.106445154, 0.106445154, 0.5118822744, 0.8252169792, 0.8252169792, 0.8252169792, 0.8252169792], degree=3))
            ThreePointArc((9.3125402076, 1.5152407782), (8.3383309599, 0.1013219698), (7.1514655816, -1.1394844732))
        make_face()
        with BuildLine():
            add(Edge.make_bspline(
                [(-24.0164042954, 17.5133645994), (-24.4885457329, 19.5307599279), (-25.2942491008, 22.9734194385), (-24.4531740639, 26.8912323127), (-21.4906827533, 25.5982225664), (-21.3494508123, 23.1289222724), (-21.267555654, 21.6970667243)],
                knots=[0, 0, 0, 0, 0.3231709152, 0.5514870631, 0.7399240025, 1, 1, 1, 1], degree=3))
            Line((-24.0164042954, 17.5133645994), (-21.267555654, 17.356287688))
            add(Edge.make_bspline(
                [(-21.267555654, 21.6970667243), (-20.6525906878, 22.6822724684), (-19.5473692987, 24.4528944076), (-16.4737011929, 24.6074750909), (-16.9738421891, 21.0966583386), (-19.6430357601, 18.7714511781), (-21.267555654, 17.356287688)],
                knots=[0, 0, 0, 0, 0.2490762174, 0.4476423506, 0.6638250595, 1, 1, 1, 1], degree=3))
        make_face()
    extrude(amount=F1_DEPTH)


solid = f1.part
